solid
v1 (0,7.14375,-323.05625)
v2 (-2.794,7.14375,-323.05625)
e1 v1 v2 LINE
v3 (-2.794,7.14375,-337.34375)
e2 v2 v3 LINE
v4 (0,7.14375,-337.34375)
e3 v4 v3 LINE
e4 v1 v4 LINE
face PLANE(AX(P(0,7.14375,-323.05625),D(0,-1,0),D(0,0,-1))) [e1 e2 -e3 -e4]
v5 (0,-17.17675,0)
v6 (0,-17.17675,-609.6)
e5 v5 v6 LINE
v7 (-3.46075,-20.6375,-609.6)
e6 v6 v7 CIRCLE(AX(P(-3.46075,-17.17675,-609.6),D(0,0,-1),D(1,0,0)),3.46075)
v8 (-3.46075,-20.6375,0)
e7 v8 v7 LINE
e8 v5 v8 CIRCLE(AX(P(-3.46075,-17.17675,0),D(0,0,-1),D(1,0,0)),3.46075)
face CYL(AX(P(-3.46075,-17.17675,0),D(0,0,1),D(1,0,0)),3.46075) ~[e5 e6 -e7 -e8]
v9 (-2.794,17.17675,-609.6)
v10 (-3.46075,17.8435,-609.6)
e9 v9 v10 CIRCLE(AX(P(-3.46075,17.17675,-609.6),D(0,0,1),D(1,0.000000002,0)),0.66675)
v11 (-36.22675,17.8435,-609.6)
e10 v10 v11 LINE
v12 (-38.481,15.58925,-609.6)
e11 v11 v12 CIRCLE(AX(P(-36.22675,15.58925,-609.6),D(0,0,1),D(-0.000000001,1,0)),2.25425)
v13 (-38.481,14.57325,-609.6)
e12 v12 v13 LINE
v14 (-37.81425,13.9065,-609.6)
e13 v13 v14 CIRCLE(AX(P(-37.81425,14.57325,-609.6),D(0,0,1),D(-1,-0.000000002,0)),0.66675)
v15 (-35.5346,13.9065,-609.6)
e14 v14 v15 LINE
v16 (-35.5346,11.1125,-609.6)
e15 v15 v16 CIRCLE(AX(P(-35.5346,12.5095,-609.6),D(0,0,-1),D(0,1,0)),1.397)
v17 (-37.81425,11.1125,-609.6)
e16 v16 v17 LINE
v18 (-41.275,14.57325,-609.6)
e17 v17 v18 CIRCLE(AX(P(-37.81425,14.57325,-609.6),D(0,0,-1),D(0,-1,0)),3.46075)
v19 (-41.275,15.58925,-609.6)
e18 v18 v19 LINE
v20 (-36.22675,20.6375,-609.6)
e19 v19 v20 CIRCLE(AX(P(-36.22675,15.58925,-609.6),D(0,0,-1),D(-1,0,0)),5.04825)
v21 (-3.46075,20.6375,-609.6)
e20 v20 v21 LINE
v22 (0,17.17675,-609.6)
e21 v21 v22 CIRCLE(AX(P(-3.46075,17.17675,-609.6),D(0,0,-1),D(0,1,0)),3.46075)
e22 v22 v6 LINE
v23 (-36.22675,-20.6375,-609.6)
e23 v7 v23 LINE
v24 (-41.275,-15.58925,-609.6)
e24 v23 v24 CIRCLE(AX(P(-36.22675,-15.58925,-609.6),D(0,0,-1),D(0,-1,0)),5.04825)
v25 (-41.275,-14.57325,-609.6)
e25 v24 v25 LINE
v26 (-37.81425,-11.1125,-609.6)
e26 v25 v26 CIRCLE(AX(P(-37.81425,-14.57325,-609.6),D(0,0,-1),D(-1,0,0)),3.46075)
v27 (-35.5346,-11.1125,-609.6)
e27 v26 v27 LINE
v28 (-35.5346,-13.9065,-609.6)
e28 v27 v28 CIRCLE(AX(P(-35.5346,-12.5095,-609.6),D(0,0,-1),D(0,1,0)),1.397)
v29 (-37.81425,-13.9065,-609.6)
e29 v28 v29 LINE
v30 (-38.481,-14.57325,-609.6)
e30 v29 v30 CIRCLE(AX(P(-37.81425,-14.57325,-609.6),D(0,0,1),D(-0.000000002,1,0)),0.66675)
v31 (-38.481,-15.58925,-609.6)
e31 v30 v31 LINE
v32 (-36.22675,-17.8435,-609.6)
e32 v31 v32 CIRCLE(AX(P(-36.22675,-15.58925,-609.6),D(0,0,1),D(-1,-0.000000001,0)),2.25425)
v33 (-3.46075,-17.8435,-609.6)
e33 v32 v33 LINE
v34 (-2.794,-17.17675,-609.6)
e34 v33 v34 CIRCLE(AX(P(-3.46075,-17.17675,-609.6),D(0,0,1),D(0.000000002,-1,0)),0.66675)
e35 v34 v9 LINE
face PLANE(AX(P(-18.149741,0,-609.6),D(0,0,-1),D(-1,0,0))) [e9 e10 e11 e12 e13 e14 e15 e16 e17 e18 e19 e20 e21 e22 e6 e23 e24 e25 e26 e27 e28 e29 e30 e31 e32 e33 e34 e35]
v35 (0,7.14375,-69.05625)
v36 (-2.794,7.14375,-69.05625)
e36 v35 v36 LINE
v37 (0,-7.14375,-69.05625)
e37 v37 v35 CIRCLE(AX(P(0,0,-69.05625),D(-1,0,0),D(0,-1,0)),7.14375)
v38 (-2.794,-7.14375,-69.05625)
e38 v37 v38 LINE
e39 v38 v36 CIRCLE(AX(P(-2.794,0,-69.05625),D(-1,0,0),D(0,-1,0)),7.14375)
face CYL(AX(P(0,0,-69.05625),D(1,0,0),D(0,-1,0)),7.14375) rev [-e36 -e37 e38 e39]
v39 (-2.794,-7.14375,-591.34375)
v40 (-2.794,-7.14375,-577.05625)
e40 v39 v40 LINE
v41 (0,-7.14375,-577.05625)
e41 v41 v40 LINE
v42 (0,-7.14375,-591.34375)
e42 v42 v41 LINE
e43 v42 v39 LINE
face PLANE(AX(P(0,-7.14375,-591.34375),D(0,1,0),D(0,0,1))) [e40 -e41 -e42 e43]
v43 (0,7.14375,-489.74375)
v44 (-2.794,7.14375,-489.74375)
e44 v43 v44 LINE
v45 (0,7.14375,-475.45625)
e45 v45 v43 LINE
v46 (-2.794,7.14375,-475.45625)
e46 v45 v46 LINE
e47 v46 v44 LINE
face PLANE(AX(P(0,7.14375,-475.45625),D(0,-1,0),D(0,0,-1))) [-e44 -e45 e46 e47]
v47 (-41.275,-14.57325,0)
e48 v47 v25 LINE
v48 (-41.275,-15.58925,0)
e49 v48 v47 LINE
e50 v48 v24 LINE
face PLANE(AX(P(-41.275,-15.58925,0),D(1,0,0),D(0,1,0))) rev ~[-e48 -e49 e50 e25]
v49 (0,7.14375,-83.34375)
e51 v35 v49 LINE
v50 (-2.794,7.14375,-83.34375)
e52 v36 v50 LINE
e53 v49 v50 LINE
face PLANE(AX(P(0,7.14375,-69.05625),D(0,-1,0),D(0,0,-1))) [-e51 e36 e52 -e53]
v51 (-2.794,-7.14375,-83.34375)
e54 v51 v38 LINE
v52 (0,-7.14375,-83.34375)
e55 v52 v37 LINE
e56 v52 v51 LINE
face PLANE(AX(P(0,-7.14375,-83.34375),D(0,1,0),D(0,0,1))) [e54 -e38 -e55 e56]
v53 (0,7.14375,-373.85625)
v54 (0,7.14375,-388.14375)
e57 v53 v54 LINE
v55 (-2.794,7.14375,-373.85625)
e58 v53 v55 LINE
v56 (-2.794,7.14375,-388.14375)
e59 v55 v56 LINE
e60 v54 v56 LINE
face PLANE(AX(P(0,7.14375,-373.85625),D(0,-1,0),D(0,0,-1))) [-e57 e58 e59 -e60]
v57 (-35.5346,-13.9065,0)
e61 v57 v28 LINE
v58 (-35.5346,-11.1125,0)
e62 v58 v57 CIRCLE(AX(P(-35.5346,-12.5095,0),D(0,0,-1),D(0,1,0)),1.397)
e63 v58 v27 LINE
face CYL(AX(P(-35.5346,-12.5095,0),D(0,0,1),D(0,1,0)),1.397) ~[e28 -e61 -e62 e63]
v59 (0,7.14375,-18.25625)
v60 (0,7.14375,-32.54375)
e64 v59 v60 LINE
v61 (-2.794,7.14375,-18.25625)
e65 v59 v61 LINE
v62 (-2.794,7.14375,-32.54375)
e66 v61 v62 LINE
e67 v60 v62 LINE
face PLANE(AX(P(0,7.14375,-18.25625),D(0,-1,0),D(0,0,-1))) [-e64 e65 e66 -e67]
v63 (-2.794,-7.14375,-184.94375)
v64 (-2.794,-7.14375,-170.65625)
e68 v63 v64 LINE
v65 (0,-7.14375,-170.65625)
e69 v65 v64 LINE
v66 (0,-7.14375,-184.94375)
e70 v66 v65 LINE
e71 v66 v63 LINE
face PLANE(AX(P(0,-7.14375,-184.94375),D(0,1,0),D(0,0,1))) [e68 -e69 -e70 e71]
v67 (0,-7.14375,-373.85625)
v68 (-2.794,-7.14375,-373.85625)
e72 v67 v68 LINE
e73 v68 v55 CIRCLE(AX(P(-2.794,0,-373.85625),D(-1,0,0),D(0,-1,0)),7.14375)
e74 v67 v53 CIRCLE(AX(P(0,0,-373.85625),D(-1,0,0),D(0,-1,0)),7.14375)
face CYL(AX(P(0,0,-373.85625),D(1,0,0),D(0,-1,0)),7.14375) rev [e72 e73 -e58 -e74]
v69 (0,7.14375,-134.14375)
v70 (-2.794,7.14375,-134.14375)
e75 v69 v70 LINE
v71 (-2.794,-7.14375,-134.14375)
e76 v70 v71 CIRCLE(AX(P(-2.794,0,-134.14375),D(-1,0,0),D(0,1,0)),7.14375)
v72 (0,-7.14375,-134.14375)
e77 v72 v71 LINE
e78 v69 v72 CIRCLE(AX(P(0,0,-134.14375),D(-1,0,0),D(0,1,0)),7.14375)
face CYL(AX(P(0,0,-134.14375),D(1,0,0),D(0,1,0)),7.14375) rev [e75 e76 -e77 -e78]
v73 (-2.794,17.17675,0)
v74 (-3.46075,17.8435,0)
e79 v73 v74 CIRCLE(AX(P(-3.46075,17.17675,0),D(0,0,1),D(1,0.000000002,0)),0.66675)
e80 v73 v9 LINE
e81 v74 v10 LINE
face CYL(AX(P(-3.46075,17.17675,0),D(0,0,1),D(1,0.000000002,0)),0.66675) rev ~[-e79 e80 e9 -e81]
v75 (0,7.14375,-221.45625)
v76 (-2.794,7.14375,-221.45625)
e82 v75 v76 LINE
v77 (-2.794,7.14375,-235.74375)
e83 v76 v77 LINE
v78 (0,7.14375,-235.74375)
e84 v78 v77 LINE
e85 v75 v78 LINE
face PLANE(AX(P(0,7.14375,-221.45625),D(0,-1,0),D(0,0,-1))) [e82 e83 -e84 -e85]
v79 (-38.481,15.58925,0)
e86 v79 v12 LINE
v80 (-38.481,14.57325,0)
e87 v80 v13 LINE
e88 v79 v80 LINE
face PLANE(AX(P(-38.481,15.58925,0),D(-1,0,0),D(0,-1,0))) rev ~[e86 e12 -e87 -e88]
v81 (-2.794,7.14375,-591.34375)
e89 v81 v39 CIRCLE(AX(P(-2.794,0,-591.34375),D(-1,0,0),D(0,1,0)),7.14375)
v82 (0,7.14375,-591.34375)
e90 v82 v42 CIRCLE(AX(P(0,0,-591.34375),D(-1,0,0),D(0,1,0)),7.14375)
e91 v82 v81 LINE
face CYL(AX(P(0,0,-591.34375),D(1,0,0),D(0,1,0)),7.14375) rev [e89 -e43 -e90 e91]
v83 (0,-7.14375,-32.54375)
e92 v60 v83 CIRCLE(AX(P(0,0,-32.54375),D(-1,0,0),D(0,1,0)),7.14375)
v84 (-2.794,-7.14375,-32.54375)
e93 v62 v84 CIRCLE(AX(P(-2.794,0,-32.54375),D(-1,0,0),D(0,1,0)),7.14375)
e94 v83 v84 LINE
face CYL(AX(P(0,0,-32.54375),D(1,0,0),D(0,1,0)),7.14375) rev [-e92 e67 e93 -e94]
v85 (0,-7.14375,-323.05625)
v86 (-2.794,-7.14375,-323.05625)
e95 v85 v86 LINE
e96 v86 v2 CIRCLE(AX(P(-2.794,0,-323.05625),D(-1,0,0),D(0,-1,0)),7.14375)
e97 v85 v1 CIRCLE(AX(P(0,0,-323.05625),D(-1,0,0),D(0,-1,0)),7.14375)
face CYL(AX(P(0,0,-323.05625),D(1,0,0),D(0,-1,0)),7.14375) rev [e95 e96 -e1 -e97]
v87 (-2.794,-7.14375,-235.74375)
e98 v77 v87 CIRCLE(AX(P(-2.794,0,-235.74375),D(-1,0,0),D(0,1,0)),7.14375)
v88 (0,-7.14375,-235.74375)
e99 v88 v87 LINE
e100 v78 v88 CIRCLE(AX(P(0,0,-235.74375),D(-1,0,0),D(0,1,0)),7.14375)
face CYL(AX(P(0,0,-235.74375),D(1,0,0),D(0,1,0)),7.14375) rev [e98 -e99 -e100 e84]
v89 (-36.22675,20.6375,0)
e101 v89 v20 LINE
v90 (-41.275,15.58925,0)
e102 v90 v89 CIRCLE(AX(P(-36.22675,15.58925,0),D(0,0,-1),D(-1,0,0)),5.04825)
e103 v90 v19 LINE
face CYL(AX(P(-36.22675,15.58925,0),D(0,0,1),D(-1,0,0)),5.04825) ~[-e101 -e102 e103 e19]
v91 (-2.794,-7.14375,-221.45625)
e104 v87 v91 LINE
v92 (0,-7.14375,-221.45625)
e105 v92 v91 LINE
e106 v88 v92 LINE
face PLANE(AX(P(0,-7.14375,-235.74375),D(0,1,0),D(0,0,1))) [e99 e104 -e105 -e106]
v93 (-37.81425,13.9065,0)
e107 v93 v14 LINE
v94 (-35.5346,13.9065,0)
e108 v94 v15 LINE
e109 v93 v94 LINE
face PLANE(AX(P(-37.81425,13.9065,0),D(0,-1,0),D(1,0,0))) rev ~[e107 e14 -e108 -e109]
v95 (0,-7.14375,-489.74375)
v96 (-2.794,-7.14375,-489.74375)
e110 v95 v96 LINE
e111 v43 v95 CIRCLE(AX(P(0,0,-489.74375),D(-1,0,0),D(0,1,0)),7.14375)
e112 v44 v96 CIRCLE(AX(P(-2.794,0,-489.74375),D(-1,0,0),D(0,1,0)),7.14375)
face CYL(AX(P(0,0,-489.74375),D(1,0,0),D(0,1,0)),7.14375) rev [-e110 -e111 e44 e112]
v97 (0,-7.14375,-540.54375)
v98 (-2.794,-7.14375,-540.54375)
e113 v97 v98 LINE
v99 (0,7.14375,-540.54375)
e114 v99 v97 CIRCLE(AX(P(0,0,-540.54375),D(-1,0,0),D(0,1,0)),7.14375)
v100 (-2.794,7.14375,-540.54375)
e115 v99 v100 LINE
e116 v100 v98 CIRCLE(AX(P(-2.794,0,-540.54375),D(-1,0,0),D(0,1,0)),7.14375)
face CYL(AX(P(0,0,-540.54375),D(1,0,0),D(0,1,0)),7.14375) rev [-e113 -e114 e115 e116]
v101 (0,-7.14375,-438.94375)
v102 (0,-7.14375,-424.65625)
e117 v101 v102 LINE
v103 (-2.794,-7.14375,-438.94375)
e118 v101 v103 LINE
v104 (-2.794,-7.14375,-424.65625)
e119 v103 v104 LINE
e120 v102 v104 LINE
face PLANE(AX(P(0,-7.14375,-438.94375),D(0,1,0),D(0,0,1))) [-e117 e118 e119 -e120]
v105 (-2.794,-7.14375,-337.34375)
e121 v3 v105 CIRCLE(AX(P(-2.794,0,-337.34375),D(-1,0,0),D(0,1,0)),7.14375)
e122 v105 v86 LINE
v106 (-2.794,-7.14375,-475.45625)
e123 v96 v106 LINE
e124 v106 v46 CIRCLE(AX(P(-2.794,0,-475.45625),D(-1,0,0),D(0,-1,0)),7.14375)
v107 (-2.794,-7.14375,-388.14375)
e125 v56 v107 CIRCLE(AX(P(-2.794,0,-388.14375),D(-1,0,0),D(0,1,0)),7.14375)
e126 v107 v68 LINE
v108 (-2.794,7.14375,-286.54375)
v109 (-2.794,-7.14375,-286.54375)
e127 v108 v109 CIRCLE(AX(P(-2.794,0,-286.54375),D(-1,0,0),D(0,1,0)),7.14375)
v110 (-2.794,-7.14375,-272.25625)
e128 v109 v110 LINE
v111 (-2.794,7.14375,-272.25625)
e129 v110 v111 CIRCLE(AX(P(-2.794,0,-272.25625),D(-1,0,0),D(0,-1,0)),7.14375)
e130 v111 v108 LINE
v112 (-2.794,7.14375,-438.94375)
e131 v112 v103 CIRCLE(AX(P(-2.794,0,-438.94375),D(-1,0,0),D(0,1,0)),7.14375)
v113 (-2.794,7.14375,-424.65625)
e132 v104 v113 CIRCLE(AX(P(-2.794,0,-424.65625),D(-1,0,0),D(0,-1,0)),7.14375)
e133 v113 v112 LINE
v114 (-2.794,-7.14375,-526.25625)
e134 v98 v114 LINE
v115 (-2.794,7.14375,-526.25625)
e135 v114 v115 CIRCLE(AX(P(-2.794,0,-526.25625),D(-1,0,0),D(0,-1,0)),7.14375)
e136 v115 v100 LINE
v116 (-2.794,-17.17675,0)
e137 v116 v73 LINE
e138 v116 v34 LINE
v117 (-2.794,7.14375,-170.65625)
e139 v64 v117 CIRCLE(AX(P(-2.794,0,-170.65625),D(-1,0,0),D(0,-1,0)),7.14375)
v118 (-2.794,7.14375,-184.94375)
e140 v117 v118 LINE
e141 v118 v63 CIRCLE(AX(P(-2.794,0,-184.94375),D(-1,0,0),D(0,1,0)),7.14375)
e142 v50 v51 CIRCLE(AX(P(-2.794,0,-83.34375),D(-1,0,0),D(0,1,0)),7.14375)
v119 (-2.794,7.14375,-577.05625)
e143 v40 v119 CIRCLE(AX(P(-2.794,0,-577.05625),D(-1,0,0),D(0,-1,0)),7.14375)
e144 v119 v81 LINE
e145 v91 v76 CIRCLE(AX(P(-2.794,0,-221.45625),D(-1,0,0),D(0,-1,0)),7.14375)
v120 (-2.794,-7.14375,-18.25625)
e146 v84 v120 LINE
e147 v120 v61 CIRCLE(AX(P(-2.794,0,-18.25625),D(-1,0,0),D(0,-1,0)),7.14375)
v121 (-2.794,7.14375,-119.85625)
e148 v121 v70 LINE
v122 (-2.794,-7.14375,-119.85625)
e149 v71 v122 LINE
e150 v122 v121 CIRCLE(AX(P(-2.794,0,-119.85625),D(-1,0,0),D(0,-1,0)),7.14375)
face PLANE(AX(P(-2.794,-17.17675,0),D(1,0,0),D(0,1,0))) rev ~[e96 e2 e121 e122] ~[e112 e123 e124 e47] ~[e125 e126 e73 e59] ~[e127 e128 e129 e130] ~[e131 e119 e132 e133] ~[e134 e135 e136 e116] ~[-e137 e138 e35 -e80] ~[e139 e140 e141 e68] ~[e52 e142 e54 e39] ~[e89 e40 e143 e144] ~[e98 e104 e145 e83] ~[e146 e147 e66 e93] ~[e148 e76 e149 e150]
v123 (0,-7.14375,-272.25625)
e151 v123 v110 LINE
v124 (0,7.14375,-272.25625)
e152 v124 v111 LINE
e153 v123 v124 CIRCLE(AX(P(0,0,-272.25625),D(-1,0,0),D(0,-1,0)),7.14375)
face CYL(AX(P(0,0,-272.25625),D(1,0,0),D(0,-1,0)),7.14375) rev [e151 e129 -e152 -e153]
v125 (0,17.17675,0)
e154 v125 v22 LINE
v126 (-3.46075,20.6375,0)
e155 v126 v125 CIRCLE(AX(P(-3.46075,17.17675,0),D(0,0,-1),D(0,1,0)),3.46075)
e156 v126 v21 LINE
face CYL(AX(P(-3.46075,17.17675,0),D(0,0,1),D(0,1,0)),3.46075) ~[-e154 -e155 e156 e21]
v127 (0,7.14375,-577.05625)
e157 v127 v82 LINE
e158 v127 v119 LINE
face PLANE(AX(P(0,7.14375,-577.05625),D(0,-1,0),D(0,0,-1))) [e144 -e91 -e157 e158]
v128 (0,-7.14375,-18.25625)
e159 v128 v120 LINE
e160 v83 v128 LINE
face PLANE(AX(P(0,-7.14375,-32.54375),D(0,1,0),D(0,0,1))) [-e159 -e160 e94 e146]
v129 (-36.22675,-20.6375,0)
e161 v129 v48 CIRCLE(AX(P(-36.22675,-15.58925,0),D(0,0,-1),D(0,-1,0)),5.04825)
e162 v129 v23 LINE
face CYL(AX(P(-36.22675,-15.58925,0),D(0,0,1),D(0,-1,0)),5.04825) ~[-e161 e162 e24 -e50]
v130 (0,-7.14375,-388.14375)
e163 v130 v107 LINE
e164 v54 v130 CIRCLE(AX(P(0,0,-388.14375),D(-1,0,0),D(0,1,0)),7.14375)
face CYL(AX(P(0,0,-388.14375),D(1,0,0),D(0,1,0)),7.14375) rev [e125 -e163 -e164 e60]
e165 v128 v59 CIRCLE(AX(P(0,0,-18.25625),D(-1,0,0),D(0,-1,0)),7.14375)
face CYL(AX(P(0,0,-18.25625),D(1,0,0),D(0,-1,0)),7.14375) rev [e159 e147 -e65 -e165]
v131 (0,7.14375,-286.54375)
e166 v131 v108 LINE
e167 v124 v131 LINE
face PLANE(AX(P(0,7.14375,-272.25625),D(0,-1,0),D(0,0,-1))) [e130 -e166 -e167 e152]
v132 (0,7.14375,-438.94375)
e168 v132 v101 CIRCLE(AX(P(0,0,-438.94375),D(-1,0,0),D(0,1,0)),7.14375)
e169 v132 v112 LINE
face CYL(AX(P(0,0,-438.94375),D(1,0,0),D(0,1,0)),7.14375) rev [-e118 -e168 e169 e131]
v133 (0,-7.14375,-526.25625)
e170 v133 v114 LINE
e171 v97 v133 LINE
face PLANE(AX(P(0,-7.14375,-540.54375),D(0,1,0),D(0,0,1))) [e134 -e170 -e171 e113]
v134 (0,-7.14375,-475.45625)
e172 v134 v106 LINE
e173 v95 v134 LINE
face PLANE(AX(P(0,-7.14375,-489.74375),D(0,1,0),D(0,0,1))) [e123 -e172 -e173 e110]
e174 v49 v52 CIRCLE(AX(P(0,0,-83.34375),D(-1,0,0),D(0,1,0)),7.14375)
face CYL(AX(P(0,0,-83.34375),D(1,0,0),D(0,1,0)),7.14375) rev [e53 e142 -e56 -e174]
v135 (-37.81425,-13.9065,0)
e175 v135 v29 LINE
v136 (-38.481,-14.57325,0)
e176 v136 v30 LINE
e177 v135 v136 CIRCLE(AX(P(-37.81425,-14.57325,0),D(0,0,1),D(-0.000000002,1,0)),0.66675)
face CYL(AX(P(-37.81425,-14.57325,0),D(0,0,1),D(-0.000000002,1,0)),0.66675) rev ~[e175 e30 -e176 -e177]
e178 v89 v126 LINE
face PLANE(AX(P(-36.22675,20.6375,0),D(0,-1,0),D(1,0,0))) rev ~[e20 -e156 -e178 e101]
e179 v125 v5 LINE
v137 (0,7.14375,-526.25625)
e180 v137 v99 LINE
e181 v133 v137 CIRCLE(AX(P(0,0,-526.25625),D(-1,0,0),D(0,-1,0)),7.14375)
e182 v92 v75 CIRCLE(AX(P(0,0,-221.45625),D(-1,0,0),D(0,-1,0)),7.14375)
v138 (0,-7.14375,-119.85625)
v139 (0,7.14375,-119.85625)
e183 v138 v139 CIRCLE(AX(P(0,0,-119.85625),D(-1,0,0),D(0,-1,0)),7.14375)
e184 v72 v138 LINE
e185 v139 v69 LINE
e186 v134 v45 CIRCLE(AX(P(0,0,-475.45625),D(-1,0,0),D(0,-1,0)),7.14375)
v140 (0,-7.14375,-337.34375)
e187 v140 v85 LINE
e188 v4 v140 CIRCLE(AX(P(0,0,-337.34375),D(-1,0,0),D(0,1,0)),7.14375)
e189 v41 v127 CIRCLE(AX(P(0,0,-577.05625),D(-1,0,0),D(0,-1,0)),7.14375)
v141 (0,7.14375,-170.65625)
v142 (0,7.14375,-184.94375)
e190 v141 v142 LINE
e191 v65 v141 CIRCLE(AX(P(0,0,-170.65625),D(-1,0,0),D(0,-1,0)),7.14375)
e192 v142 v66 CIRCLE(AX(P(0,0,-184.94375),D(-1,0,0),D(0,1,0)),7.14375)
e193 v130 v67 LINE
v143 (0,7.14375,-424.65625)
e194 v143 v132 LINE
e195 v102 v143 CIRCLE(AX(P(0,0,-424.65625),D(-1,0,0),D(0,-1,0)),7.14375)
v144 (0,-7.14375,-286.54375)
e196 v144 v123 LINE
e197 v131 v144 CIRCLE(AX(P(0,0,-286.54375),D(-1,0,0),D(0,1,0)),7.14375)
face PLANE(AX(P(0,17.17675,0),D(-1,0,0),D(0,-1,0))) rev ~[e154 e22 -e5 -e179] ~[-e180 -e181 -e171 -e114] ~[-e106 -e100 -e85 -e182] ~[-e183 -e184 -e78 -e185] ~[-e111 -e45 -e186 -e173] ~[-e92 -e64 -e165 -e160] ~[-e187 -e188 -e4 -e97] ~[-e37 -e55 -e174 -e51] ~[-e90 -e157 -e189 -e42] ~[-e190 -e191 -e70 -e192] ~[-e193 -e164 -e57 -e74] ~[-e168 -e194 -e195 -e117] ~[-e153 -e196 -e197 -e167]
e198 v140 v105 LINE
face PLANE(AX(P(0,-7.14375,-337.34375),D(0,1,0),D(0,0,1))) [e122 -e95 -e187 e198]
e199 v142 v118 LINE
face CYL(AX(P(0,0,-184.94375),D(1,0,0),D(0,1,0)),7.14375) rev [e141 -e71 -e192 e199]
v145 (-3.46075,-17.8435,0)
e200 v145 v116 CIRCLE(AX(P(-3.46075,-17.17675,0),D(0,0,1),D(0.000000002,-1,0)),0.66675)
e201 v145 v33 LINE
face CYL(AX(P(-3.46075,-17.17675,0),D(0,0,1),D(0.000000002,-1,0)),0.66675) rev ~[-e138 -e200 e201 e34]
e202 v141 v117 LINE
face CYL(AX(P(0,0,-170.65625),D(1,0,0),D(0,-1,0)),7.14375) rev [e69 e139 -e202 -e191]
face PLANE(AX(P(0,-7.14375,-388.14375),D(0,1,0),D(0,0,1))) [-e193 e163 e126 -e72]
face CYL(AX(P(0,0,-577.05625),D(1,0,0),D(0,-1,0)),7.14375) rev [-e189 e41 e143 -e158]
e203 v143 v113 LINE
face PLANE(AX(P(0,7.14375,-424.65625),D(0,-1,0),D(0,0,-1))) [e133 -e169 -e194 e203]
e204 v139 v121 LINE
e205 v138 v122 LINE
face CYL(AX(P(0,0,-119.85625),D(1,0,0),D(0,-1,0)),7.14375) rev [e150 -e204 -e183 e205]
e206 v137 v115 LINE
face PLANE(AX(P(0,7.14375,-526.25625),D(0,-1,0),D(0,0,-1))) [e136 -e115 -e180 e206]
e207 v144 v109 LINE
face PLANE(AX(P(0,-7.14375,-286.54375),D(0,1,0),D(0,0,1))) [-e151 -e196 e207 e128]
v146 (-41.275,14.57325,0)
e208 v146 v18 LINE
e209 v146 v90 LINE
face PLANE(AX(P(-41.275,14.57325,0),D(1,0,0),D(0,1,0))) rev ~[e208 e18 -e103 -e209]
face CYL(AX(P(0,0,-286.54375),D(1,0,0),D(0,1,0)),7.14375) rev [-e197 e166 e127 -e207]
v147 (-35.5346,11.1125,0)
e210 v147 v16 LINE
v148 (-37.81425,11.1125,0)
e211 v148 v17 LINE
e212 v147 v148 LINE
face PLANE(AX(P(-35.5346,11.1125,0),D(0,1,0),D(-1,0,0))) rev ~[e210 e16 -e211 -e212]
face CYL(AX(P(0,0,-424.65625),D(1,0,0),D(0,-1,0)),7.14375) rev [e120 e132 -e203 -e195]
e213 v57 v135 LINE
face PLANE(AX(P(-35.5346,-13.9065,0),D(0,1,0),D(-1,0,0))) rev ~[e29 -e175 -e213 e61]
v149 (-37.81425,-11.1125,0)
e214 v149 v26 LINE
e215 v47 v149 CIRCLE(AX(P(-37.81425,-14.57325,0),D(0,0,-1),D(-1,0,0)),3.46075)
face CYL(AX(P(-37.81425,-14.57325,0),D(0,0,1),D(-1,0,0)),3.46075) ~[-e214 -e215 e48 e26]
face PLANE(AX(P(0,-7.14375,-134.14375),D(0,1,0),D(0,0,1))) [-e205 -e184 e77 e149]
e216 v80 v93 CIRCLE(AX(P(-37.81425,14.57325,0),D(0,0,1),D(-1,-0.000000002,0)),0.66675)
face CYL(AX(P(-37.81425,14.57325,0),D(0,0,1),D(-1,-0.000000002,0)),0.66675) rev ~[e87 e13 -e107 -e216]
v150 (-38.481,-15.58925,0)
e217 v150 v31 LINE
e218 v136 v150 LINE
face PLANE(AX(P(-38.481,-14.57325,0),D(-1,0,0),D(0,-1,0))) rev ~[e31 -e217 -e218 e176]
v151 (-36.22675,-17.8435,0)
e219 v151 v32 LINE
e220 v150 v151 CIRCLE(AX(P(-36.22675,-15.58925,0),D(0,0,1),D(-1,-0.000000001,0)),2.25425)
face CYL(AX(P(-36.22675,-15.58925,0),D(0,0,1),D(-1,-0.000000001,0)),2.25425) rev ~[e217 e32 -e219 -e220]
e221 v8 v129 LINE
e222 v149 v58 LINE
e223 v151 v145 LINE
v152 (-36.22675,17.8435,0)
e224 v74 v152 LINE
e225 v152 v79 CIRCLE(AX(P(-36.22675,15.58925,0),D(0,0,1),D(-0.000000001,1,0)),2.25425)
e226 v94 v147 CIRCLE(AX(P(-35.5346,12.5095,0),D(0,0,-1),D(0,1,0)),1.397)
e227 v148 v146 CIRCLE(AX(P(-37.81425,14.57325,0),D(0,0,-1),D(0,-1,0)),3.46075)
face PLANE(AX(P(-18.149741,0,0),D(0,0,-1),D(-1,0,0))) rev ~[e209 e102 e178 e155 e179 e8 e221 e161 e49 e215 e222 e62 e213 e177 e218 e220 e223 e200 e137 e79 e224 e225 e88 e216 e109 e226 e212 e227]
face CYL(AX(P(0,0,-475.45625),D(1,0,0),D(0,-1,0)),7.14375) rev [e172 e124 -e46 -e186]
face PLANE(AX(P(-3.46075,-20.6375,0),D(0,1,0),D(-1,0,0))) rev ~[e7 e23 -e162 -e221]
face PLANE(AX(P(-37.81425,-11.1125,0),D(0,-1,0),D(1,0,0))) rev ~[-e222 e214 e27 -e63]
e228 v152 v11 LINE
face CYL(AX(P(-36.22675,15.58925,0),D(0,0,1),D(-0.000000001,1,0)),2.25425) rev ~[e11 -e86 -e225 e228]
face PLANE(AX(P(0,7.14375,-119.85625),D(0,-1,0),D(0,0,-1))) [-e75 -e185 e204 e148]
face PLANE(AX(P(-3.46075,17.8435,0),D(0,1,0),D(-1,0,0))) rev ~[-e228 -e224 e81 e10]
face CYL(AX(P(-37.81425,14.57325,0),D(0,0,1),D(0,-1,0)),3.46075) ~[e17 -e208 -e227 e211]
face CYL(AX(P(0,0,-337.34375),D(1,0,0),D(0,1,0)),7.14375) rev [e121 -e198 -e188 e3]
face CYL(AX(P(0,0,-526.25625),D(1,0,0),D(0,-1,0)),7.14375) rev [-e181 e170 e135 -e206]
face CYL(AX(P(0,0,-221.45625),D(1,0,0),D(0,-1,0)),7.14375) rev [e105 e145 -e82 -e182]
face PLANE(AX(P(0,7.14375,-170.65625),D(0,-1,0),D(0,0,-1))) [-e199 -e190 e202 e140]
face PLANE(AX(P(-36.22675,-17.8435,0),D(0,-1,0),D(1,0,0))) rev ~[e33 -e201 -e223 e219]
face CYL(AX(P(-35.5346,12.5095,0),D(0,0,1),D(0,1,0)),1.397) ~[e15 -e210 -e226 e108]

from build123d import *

# Parameters (mm, degrees)
BOSS_EXTRUDE1_DEPTH = 609.6
CUT_EXTRUDE1_DEPTH  = 2.794
LPATTERN1_COUNT     = 12
LPATTERN1_PITCH     = 50.8


with BuildPart() as part:
    # Sketch1 → Boss-Extrude1 (new body)
    with BuildSketch(Plane.XY):
        with BuildLine():
            Line((-36.22675, 20.6375), (-3.46075, 20.6375))
            ThreePointArc((-3.46075, 20.6375), (-1.013630207, 19.623869793), (0, 17.17675))
            Line((0, 17.17675), (0, -17.17675))
            ThreePointArc((0, -17.17675), (-1.013630207, -19.623869793), (-3.46075, -20.6375))
            Line((-3.46075, -20.6375), (-36.22675, -20.6375))
            ThreePointArc((-36.22675, -20.6375), (-39.796401808, -19.158901808), (-41.275, -15.58925))
            Line((-41.275, -15.58925), (-41.275, -14.57325))
            ThreePointArc((-41.275, -14.57325), (-40.261369793, -12.126130207), (-37.81425, -11.1125))
            Line((-37.81425, -11.1125), (-35.5346, -11.1125))
            ThreePointArc((-35.5346, -11.1125), (-34.1376, -12.5095), (-35.5346, -13.9065))
            Line((-35.5346, -13.9065), (-37.81425, -13.9065))
            ThreePointArc((-37.81425, -13.9065), (-38.285713446, -14.101786554), (-38.481, -14.57325))
            Line((-38.481, -14.57325), (-38.481, -15.58925))
            ThreePointArc((-38.481, -15.58925), (-37.820745461, -17.183245461), (-36.22675, -17.8435))
            Line((-36.22675, -17.8435), (-3.46075, -17.8435))
            ThreePointArc((-3.46075, -17.8435), (-2.989286554, -17.648213446), (-2.794, -17.17675))
            Line((-2.794, -17.17675), (-2.794, 17.17675))
            ThreePointArc((-2.794, 17.17675), (-2.989286554, 17.648213446), (-3.46075, 17.8435))
            Line((-3.46075, 17.8435), (-36.22675, 17.8435))
            ThreePointArc((-36.22675, 17.8435), (-37.820745461, 17.183245461), (-38.481, 15.58925))
            Line((-38.481, 15.58925), (-38.481, 14.57325))
            ThreePointArc((-38.481, 14.57325), (-38.285713446, 14.101786554), (-37.81425, 13.9065))
            Line((-37.81425, 13.9065), (-35.5346, 13.9065))
            ThreePointArc((-35.5346, 13.9065), (-34.1376, 12.5095), (-35.5346, 11.1125))
            Line((-35.5346, 11.1125), (-37.81425, 11.1125))
            ThreePointArc((-37.81425, 11.1125), (-40.261369793, 12.126130207), (-41.275, 14.57325))
            Line((-41.275, 14.57325), (-41.275, 15.58925))
            ThreePointArc((-41.275, 15.58925), (-39.796401808, 19.158901808), (-36.22675, 20.6375))
        make_face()
    extrude(amount=-BOSS_EXTRUDE1_DEPTH)

    # Sketch2 → Cut-Extrude1 (cut)
    with BuildSketch(Plane(origin=(0, 0, 0), x_dir=(0, 0, -1), z_dir=(1, 0, 0))):
        with BuildLine():
            Line((18.25625, 7.14375), (32.54375, 7.14375))
            ThreePointArc((32.54375, 7.14375), (39.6875, 0), (32.54375, -7.14375))
            Line((32.54375, -7.14375), (18.25625, -7.14375))
            ThreePointArc((18.25625, -7.14375), (11.1125, 0), (18.25625, 7.14375))
        make_face()
    cut_extrude1 = extrude(amount=-CUT_EXTRUDE1_DEPTH, mode=Mode.SUBTRACT)

    # LPattern1: Cut-Extrude1 ×12
    with Locations(*[(0, 0, -i * LPATTERN1_PITCH) for i in range(1, LPATTERN1_COUNT)]):
        add(cut_extrude1, mode=Mode.SUBTRACT)


solid = part.part
